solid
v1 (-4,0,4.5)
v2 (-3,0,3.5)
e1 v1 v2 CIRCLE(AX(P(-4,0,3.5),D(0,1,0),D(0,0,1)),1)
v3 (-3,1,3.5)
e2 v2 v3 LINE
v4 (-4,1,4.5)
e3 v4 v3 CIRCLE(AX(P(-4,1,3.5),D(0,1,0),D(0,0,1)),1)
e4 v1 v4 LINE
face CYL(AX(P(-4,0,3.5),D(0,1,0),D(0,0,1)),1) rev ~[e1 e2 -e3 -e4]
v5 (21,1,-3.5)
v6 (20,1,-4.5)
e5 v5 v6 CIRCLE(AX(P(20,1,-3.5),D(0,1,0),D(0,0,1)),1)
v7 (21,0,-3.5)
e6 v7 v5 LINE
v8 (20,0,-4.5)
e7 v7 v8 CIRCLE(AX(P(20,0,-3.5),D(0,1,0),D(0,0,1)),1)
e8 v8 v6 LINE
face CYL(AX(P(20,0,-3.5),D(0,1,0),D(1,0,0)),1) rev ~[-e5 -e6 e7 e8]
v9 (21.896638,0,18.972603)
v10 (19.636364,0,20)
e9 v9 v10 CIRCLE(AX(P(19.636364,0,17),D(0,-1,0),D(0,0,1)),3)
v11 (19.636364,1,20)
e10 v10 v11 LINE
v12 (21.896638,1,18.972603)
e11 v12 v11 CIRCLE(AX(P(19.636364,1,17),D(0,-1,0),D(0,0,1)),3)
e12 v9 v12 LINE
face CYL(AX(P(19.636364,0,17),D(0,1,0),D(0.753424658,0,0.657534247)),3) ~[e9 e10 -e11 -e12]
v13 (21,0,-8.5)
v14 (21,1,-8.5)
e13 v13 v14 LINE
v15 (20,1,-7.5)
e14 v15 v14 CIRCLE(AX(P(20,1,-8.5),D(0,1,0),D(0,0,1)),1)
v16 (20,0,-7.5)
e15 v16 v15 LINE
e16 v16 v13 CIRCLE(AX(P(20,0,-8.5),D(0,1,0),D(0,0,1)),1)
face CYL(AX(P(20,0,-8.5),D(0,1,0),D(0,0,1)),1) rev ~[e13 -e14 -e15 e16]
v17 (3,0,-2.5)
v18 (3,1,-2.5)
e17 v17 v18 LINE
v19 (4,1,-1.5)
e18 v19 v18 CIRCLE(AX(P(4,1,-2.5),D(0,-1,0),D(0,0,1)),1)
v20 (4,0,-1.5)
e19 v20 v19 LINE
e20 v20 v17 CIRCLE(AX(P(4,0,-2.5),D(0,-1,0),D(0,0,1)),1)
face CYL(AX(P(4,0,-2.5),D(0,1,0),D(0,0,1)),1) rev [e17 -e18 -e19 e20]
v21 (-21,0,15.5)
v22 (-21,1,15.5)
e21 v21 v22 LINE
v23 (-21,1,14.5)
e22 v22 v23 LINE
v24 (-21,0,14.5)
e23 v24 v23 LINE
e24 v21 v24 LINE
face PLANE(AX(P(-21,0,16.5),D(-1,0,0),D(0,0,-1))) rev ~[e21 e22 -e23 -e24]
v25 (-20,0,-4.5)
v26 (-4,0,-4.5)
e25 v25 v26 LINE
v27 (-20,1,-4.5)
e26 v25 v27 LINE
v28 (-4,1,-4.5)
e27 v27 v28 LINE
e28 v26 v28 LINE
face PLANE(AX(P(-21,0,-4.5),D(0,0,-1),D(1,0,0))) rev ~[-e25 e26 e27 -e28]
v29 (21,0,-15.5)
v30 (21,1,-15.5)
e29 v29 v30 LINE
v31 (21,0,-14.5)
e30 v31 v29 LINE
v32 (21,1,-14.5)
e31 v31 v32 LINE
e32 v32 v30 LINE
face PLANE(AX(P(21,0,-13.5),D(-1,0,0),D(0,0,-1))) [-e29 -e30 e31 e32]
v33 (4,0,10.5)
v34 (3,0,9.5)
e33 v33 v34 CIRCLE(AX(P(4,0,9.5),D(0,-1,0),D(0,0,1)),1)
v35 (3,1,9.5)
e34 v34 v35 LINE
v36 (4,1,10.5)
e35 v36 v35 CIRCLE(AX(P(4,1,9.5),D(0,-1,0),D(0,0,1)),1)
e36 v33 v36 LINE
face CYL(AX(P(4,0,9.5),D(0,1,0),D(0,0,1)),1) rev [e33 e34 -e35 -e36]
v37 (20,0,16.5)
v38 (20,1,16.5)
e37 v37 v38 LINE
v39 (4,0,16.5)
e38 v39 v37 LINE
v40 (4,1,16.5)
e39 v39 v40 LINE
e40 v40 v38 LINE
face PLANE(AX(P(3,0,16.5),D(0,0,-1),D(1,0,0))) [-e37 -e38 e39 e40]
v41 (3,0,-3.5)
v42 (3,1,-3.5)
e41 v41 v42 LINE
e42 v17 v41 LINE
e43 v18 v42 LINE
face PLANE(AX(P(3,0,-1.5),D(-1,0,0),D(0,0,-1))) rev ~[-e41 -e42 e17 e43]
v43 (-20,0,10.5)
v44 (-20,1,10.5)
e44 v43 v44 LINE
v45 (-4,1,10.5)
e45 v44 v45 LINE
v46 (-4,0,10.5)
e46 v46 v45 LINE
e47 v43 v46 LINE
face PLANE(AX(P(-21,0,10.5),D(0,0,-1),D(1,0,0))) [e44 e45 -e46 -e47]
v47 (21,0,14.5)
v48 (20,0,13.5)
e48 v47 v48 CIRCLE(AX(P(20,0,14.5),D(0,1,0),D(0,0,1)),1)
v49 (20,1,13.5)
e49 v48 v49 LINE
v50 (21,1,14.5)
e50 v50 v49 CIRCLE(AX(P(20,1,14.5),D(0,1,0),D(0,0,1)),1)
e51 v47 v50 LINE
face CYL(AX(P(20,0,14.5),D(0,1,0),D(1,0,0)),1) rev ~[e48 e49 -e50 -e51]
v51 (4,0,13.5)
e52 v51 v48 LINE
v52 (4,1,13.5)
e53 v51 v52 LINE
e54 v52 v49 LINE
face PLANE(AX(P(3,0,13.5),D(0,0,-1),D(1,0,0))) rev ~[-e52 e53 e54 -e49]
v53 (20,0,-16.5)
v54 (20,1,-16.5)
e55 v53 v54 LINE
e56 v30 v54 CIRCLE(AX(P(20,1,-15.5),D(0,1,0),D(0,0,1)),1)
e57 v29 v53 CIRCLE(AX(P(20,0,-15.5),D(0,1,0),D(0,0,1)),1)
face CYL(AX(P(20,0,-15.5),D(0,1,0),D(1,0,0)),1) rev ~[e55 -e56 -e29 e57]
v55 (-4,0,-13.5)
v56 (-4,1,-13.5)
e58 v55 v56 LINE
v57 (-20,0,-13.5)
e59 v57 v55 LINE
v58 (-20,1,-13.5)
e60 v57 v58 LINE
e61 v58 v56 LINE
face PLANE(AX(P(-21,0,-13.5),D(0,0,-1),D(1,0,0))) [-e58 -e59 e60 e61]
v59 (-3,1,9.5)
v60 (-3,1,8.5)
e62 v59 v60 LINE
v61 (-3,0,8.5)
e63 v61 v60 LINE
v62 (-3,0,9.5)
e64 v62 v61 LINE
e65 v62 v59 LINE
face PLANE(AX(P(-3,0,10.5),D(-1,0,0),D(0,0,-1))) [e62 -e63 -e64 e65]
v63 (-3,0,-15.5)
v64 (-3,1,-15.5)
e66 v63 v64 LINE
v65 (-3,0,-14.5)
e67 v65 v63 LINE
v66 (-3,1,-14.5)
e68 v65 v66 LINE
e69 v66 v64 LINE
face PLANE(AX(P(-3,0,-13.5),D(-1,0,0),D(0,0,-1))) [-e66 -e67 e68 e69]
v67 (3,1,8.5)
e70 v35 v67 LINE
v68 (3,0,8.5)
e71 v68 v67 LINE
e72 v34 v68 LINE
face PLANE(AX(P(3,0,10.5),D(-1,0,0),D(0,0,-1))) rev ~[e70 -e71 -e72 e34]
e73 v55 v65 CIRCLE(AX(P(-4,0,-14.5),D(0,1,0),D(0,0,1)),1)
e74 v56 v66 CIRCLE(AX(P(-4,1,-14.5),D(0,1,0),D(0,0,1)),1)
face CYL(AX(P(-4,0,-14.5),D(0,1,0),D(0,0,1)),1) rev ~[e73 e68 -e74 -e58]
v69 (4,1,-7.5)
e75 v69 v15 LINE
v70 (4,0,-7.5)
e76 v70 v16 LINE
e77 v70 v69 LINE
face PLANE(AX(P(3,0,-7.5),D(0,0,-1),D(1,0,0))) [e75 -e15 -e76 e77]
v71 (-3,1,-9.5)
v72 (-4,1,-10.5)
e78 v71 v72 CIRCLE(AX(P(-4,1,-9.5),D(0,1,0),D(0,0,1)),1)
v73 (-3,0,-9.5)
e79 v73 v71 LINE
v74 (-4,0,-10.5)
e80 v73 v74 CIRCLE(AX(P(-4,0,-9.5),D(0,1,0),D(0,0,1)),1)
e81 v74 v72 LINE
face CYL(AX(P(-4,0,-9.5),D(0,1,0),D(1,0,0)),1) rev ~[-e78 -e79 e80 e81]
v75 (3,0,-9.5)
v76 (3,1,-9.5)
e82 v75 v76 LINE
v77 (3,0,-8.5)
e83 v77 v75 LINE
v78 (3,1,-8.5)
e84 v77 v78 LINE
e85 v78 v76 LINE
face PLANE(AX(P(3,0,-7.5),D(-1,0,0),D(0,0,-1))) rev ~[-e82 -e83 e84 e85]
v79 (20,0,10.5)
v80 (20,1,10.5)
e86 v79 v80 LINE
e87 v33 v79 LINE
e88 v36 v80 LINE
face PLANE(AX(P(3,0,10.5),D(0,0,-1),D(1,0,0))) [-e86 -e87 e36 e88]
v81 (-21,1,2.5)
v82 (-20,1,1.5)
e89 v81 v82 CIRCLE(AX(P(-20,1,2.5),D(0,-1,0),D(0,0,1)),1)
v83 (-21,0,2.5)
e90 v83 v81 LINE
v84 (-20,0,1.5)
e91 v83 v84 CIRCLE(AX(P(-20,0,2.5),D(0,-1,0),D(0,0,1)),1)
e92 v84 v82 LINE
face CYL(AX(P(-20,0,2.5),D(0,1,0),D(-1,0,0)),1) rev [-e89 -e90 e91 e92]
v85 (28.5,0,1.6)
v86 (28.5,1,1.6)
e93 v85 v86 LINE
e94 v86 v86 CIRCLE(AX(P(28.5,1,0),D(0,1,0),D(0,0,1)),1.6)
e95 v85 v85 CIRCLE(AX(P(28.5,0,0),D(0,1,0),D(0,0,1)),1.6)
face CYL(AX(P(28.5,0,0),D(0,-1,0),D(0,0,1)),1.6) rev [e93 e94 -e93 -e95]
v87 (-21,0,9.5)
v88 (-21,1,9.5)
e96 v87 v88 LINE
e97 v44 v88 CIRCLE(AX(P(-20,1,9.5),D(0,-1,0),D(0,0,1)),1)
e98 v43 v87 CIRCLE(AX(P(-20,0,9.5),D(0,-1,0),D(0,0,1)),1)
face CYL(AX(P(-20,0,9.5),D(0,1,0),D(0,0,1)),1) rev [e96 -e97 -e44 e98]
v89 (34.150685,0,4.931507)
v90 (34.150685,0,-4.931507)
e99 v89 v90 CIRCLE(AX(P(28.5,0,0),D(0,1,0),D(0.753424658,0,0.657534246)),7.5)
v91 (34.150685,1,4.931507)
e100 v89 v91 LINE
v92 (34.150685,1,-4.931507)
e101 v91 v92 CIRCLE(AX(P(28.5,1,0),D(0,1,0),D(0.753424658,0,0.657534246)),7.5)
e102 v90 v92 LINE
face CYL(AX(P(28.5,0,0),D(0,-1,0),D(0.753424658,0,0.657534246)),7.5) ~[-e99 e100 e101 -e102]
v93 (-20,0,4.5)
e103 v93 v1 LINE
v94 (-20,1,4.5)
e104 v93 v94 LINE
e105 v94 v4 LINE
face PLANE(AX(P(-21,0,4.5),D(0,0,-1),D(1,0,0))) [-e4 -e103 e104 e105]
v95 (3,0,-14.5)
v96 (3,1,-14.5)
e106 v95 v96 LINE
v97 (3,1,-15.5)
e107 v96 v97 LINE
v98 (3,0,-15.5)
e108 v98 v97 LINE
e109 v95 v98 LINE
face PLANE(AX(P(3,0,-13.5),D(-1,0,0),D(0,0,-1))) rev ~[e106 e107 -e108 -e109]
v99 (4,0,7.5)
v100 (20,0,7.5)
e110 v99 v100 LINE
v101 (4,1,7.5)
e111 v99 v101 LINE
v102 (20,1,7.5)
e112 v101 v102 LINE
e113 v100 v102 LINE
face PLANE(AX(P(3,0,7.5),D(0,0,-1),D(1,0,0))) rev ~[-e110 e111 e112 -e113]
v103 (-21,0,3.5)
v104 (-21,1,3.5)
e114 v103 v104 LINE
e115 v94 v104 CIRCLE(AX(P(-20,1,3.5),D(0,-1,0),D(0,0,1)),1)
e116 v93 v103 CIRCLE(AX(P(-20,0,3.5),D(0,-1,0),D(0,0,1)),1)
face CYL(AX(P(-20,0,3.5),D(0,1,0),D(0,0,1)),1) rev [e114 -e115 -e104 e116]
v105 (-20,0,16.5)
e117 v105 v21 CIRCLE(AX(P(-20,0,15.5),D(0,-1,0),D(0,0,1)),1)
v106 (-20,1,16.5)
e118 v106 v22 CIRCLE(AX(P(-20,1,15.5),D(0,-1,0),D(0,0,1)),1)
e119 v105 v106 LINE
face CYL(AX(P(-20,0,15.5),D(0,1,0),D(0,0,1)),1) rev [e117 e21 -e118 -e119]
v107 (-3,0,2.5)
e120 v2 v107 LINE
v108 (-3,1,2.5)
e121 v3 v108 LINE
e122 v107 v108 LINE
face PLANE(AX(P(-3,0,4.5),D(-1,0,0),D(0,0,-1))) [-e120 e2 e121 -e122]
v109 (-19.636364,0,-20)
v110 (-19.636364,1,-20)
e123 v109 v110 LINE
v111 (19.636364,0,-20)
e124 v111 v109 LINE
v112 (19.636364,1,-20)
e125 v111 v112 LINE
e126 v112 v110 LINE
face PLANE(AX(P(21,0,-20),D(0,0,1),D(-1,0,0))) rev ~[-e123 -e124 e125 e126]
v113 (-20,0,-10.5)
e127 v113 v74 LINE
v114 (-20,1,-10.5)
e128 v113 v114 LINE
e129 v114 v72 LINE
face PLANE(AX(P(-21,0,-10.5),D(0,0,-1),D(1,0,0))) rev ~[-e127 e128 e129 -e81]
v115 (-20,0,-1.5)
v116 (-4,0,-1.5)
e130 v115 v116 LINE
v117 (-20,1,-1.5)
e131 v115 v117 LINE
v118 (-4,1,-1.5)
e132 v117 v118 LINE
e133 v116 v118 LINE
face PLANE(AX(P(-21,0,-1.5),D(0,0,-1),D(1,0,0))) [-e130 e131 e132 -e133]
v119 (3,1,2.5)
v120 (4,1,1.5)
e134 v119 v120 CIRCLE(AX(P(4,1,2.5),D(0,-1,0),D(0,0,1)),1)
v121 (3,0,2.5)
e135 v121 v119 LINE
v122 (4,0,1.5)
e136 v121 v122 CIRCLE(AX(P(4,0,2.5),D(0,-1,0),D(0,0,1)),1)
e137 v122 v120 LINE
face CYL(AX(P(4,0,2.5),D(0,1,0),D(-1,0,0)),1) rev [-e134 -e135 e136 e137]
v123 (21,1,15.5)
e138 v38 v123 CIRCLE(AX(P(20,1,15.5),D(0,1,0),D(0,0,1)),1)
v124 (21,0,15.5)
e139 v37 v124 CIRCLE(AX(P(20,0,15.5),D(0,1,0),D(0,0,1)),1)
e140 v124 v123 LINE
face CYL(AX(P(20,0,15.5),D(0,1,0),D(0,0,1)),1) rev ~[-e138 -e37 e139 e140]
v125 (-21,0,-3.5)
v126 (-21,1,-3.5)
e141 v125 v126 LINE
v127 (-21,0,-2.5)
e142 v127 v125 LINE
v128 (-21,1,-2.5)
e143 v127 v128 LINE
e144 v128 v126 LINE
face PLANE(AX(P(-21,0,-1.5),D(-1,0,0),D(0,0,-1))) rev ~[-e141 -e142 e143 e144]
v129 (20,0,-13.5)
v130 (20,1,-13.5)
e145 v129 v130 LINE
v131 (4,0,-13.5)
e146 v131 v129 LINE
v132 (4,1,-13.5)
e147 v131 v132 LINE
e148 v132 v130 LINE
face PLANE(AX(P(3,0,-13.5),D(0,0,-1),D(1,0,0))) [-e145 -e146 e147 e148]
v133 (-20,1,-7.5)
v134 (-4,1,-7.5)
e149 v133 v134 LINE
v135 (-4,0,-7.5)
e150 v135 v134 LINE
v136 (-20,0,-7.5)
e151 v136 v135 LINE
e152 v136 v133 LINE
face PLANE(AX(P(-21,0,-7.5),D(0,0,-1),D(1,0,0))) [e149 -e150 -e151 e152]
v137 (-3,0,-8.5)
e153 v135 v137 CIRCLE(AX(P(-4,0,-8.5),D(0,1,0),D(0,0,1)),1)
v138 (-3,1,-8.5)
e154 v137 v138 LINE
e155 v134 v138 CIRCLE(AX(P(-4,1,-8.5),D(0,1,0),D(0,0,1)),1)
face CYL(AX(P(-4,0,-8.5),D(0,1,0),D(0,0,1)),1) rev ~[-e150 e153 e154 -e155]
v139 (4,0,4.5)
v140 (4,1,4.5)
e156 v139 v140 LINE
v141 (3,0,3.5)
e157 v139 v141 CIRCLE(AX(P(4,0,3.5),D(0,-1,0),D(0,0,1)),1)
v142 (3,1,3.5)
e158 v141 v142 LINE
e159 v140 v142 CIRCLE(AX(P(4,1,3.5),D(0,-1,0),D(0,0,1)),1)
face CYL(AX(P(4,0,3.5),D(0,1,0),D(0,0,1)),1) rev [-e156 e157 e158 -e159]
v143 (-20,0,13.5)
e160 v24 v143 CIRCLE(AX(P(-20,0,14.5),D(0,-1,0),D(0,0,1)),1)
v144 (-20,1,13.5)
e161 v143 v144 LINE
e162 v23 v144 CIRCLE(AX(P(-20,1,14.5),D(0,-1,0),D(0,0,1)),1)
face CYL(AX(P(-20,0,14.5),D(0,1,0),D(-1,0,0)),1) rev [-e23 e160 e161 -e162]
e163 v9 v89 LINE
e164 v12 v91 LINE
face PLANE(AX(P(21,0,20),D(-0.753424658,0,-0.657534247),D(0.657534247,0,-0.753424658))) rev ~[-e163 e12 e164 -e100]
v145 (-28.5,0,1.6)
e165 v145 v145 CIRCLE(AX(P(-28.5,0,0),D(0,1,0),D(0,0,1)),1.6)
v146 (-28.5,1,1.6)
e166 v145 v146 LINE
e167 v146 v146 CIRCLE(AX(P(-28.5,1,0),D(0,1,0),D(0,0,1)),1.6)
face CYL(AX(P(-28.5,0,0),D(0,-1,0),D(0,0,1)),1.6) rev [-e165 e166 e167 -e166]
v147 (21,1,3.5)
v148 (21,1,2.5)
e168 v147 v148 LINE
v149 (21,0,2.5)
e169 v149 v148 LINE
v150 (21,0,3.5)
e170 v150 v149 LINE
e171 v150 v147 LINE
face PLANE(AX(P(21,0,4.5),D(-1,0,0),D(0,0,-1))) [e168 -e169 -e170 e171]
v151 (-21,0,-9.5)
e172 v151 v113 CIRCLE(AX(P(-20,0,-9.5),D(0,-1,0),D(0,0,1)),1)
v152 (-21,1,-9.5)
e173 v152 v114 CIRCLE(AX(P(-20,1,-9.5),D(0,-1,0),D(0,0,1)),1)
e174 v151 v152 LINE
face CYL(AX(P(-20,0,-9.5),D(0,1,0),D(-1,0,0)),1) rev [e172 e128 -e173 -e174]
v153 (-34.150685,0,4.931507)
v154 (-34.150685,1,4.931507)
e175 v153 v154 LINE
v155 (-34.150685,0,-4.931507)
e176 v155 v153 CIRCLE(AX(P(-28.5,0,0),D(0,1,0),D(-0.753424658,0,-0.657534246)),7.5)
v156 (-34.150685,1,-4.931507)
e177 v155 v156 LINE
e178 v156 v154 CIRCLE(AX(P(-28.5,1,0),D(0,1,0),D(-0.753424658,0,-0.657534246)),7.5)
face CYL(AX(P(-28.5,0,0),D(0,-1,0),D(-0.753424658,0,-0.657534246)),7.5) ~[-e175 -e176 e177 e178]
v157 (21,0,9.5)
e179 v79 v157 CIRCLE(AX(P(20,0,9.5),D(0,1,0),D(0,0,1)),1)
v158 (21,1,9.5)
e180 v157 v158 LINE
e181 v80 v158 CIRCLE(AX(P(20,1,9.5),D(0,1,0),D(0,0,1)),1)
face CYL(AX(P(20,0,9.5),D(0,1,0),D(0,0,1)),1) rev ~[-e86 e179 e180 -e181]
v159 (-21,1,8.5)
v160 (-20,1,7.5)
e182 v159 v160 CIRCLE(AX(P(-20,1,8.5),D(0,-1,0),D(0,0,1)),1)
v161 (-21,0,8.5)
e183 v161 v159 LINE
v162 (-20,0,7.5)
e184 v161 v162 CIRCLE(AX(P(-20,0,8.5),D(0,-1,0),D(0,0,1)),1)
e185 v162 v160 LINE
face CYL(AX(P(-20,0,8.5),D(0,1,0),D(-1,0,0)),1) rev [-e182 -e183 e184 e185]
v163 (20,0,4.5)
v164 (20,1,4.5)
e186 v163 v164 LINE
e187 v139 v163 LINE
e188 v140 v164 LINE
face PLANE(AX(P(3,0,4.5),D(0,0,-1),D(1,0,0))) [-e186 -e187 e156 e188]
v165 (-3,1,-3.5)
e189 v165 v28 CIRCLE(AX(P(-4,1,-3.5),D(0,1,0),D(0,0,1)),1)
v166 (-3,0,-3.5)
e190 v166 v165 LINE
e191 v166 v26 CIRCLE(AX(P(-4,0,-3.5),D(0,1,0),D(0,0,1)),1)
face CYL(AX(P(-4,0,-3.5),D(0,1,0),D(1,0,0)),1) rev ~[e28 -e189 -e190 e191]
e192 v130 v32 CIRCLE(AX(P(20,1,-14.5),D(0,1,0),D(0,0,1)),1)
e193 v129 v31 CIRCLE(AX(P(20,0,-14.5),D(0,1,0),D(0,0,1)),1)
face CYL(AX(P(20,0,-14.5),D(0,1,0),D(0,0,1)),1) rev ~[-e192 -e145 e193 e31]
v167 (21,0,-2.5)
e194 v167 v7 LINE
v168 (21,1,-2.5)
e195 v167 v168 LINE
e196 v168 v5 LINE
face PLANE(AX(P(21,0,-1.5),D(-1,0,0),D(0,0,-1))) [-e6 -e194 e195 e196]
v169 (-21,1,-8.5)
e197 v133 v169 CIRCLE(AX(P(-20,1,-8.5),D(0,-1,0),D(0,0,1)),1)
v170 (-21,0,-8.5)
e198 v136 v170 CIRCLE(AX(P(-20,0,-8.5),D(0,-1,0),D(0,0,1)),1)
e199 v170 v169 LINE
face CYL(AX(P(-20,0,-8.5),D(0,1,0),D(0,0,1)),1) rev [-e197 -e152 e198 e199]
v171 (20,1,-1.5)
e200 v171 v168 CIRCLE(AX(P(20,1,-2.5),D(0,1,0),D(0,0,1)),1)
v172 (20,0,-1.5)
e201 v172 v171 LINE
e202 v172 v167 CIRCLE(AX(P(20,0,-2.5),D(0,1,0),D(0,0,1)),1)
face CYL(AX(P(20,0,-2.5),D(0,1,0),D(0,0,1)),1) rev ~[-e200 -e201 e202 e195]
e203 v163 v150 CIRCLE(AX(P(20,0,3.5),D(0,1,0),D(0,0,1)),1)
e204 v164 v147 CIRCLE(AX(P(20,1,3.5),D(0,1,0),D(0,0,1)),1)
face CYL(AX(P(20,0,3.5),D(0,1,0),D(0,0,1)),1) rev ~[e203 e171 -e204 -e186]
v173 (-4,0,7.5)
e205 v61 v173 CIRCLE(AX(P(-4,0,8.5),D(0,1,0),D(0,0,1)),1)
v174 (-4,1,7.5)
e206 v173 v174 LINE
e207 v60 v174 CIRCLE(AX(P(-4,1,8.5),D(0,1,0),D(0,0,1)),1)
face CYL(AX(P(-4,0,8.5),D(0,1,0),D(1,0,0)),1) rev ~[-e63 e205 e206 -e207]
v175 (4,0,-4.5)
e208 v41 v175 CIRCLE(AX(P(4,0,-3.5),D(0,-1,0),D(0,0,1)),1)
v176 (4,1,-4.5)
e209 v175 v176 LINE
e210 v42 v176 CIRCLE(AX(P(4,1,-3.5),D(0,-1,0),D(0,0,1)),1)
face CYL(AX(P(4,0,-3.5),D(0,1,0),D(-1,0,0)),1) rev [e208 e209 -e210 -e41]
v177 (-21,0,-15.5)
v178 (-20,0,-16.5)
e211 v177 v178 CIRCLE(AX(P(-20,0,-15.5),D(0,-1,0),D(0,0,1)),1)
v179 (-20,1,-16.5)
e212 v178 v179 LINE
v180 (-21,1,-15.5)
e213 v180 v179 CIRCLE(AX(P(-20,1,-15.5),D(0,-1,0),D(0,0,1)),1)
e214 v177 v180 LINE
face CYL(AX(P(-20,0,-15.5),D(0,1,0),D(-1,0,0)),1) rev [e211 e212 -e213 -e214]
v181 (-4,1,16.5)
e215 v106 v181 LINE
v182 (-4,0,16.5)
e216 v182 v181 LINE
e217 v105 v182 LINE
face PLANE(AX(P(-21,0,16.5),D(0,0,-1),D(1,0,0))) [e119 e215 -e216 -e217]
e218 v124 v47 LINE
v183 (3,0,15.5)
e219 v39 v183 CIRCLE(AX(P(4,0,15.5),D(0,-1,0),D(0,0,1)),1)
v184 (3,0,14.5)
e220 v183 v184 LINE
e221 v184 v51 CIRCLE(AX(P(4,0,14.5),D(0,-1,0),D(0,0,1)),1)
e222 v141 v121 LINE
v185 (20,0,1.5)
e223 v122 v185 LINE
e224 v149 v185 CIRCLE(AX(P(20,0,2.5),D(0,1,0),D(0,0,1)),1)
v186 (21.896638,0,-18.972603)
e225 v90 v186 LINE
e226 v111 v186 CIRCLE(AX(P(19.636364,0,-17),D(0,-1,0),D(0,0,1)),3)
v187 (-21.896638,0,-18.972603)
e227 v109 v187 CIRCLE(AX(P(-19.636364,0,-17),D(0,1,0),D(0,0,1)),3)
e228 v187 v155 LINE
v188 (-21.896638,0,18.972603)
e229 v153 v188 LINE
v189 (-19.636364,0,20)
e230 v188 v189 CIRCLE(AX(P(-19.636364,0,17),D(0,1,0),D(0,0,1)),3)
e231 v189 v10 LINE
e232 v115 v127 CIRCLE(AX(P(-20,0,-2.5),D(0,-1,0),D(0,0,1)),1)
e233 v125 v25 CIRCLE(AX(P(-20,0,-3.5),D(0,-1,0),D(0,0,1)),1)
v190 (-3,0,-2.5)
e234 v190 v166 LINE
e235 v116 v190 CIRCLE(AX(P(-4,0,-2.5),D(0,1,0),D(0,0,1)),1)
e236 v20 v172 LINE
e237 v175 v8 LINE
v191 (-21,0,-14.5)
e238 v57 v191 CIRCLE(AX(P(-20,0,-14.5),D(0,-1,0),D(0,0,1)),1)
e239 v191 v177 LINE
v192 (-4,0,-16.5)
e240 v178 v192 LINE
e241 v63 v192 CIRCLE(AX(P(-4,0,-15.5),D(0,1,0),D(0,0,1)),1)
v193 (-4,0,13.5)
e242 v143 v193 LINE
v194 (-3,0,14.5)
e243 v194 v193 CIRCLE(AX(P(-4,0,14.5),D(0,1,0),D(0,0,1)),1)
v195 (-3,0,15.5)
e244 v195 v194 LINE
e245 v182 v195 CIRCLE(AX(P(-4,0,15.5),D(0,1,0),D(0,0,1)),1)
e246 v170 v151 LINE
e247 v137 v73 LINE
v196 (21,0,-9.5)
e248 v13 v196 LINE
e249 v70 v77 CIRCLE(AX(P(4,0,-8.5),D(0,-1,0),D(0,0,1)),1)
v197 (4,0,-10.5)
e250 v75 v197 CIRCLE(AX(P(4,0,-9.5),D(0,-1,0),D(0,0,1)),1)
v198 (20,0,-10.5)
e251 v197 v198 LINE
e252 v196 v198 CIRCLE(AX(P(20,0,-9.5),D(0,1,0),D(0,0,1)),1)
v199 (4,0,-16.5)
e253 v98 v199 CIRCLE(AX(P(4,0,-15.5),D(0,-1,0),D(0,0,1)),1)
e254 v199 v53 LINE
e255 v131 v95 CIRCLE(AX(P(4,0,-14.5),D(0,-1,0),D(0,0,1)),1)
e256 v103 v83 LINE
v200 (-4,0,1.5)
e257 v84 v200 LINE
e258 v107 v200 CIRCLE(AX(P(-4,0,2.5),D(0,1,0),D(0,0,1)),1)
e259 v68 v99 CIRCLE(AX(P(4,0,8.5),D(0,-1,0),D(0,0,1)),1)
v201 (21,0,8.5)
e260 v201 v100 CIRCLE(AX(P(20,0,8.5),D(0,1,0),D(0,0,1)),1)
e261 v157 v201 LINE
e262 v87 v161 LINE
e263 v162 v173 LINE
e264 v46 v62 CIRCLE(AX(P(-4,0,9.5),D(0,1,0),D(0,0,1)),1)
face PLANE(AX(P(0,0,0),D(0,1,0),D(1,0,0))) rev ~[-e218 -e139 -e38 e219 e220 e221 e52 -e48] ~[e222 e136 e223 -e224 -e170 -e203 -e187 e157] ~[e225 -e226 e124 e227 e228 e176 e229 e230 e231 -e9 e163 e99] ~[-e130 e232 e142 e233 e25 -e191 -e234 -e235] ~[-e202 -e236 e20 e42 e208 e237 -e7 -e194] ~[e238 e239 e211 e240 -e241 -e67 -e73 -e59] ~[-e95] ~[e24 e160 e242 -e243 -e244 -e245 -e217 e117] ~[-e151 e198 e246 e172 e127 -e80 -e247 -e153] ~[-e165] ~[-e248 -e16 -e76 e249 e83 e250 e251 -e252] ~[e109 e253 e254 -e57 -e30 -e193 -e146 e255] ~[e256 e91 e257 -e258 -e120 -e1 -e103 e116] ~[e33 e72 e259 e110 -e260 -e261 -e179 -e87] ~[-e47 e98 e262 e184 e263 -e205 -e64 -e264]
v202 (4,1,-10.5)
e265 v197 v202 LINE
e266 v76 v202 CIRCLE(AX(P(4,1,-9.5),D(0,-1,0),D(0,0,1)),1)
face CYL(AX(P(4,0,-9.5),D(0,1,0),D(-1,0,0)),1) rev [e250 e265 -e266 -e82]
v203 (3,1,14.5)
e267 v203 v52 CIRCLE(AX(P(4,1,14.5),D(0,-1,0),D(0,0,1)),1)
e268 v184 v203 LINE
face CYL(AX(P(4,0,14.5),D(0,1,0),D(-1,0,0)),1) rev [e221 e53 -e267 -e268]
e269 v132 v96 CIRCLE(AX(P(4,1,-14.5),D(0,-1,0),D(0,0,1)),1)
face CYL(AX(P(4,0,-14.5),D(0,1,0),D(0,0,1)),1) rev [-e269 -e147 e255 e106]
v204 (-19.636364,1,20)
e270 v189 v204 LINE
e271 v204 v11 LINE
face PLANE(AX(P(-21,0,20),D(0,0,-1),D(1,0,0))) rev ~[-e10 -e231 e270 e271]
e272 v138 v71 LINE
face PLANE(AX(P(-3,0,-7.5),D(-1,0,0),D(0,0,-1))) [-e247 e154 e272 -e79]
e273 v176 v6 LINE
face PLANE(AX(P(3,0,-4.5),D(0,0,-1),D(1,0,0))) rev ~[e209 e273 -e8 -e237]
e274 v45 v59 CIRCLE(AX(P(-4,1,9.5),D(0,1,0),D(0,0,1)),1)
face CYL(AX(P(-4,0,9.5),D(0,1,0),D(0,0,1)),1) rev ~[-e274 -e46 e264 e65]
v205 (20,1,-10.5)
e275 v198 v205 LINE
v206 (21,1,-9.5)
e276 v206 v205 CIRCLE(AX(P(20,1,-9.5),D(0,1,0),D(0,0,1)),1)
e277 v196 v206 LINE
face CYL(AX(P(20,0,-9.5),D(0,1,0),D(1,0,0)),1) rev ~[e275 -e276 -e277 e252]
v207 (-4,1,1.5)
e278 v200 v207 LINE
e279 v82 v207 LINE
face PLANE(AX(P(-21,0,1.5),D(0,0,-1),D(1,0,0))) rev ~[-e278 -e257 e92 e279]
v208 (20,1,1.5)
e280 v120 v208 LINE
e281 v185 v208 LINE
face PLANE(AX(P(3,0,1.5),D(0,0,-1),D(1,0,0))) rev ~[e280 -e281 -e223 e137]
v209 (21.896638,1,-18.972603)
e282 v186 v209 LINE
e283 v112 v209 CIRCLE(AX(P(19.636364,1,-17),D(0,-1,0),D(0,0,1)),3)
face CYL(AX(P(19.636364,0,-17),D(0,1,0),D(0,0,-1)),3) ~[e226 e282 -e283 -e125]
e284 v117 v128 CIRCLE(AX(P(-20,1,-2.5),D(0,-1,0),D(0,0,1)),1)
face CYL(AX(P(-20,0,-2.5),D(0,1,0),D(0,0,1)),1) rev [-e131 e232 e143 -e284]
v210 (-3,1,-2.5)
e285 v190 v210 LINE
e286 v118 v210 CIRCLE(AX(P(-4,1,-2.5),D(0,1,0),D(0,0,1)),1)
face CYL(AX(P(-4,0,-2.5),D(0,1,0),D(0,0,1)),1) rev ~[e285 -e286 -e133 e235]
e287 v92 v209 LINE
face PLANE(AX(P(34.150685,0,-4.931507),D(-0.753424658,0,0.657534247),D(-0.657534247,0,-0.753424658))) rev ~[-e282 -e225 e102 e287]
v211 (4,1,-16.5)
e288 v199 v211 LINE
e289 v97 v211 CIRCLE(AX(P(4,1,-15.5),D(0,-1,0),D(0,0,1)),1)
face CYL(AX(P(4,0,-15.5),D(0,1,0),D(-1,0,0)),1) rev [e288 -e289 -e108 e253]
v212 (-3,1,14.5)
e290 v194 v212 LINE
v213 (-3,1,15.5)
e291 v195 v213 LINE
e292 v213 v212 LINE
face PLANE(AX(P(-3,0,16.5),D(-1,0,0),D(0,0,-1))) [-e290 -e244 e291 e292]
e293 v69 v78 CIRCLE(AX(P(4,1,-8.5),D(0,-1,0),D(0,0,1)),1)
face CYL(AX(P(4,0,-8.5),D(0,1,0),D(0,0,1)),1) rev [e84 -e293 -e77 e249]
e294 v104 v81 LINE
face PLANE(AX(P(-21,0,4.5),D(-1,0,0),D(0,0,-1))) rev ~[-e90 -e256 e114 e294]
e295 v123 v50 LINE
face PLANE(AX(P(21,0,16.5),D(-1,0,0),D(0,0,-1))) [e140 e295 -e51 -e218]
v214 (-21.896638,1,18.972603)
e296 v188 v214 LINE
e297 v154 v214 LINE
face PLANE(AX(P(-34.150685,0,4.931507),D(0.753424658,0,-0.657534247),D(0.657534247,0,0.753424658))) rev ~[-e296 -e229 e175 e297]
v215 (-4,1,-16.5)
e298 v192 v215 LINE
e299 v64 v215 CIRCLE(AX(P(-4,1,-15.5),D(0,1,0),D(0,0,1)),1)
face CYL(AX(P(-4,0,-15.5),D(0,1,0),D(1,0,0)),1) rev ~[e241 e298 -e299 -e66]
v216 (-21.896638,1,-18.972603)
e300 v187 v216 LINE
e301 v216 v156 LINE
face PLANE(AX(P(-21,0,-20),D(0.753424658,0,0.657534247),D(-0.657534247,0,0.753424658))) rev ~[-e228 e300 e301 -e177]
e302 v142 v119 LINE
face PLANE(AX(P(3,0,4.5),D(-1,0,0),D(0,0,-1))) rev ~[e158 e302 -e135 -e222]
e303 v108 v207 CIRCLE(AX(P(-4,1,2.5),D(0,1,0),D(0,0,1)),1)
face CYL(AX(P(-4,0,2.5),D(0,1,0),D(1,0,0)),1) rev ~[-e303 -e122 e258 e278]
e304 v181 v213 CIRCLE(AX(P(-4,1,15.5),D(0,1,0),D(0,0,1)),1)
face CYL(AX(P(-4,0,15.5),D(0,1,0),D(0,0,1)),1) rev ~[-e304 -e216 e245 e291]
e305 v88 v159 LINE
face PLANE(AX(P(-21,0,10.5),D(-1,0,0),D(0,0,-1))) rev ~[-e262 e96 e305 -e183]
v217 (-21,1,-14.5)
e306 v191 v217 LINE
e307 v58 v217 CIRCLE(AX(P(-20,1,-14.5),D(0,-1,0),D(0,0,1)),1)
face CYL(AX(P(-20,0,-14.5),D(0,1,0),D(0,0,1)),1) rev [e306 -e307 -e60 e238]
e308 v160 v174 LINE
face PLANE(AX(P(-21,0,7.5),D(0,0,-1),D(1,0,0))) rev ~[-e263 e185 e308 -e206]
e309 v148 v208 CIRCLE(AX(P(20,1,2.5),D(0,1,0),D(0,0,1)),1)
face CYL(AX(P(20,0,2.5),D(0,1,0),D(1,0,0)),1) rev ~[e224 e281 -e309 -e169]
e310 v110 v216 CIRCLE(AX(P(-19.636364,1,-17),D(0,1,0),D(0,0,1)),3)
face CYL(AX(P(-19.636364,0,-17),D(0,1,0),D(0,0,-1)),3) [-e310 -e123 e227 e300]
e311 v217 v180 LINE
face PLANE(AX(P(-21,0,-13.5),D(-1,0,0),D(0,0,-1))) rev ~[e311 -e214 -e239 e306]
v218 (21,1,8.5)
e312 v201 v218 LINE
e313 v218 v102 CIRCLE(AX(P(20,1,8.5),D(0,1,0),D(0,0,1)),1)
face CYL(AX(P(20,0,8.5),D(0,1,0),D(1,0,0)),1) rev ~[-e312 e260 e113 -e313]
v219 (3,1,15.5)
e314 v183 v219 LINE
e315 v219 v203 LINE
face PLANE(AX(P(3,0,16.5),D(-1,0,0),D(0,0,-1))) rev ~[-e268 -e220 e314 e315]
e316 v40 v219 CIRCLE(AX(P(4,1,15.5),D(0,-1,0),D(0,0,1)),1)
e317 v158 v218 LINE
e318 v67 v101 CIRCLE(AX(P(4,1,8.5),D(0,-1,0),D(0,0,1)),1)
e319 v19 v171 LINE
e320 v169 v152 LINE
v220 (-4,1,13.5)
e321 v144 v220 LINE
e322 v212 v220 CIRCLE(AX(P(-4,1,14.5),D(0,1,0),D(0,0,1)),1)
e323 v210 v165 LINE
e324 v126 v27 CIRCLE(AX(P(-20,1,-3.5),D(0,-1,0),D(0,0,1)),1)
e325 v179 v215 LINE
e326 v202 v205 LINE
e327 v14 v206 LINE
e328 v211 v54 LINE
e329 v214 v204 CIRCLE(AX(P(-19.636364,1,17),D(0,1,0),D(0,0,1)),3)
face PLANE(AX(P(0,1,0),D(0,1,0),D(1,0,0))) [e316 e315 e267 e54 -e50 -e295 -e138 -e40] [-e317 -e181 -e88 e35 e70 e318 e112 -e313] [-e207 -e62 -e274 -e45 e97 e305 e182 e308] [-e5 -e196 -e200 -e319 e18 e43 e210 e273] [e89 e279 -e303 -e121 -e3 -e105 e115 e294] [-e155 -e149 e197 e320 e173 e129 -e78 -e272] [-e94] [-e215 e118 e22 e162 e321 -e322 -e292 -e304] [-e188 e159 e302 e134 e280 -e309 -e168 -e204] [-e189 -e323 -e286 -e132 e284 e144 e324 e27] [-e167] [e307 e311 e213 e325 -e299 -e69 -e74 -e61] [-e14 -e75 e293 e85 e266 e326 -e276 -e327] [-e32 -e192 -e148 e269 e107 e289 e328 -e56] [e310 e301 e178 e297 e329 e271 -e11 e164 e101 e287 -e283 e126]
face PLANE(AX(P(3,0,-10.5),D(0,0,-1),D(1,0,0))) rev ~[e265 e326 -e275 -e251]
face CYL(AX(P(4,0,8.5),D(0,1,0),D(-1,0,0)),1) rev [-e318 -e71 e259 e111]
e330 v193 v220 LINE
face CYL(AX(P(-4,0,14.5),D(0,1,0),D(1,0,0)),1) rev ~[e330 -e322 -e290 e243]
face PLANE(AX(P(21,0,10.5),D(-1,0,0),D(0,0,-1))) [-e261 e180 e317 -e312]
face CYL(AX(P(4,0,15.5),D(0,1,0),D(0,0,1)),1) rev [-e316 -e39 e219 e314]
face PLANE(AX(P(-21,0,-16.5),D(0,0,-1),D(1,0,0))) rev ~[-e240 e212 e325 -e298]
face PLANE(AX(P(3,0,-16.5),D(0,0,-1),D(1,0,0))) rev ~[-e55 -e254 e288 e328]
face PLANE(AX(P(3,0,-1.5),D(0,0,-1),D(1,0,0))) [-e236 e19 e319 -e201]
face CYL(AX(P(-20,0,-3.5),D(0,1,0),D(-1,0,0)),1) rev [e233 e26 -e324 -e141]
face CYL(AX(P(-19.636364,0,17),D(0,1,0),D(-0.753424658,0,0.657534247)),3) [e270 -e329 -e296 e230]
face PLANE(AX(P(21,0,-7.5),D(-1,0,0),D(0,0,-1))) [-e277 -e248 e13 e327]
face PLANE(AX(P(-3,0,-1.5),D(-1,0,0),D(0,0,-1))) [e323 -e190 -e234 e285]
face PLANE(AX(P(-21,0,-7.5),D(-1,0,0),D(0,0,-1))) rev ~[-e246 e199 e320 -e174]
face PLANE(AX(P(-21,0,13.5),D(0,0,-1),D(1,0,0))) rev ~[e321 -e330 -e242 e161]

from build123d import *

# Parameters (mm, degrees)
SKETCH_1_W      = 18
SKETCH_1_H      = 3
SKETCH_1_R      = 1.6
EXTRUDE_1_DEPTH = 1
FILLET_1_R      = 3
FILLET_2_R      = 1


with BuildPart() as part:
    # 草图1 → 凸台-拉伸1 (new body)
    with BuildSketch(Plane(origin=(0, 0, 0), x_dir=(1, 0, 0), z_dir=(0, 1, 0))):
        with BuildLine():
            Line((21, 20), (-21, 20))
            Line((-21, 20), (-34.150684932, 4.931506849))
            ThreePointArc((-34.150684932, 4.931506849), (-36, 0), (-34.150684932, -4.931506849))
            Line((-34.150684932, -4.931506849), (-21, -20))
            Line((-21, -20), (21, -20))
            Line((21, -20), (34.150684932, -4.931506849))
            ThreePointArc((34.150684932, -4.931506849), (36, 0), (34.150684932, 4.931506849))
            Line((34.150684932, 4.931506849), (21, 20))
        make_face()
        with Locations((-12, -15)):
            Rectangle(SKETCH_1_W, SKETCH_1_H, mode=Mode.SUBTRACT)
        with Locations((-12, -9)):
            Rectangle(SKETCH_1_W, SKETCH_1_H, mode=Mode.SUBTRACT)
        with Locations((-12, -3)):
            Rectangle(SKETCH_1_W, SKETCH_1_H, mode=Mode.SUBTRACT)
        with Locations((12, -15)):
            Rectangle(SKETCH_1_W, SKETCH_1_H, mode=Mode.SUBTRACT)
        with Locations((12, -9)):
            Rectangle(SKETCH_1_W, SKETCH_1_H, mode=Mode.SUBTRACT)
        with Locations((12, -3)):
            Rectangle(SKETCH_1_W, SKETCH_1_H, mode=Mode.SUBTRACT)
        with Locations((-12, 3)):
            Rectangle(SKETCH_1_W, SKETCH_1_H, mode=Mode.SUBTRACT)
        with Locations((-12, 9)):
            Rectangle(SKETCH_1_W, SKETCH_1_H, mode=Mode.SUBTRACT)
        with Locations((-12, 15)):
            Rectangle(SKETCH_1_W, SKETCH_1_H, mode=Mode.SUBTRACT)
        with Locations((12, 3)):
            Rectangle(SKETCH_1_W, SKETCH_1_H, mode=Mode.SUBTRACT)
        with Locations((12, 9)):
            Rectangle(SKETCH_1_W, SKETCH_1_H, mode=Mode.SUBTRACT)
        with Locations((12, 15)):
            Rectangle(SKETCH_1_W, SKETCH_1_H, mode=Mode.SUBTRACT)
        with Locations(Location((-28.5, 0, 0), (0, 0, 270))):
            Circle(SKETCH_1_R, mode=Mode.SUBTRACT)
        with Locations(Location((28.5, 0, 0), (0, 0, 270))):
            Circle(SKETCH_1_R, mode=Mode.SUBTRACT)
    extrude(amount=EXTRUDE_1_DEPTH)

    # 圆角1
    fillet_1_edges = [part.edges().sort_by_distance(p)[0] for p in [
        (21, 0.5, 20),
        (-21, 0.5, 20),
        (-21, 0.5, -20),
        (21, 0.5, -20),
    ]]
    fillet(fillet_1_edges, radius=FILLET_1_R)

    # 圆角2
    fillet_2_edges = [part.edges().sort_by_distance(p)[0] for p in [
        (-21, 0.5, 13.5),
        (-21, 0.5, 16.5),
        (-3, 0.5, 16.5),
        (-3, 0.5, 13.5),
        (21, 0.5, 16.5),
        (21, 0.5, 13.5),
        (3, 0.5, 13.5),
        (3, 0.5, 16.5),
        (21, 0.5, 10.5),
        (21, 0.5, 7.5),
        (3, 0.5, 7.5),
        (3, 0.5, 10.5),
        (21, 0.5, 4.5),
        (21, 0.5, 1.5),
        (3, 0.5, 1.5),
        (3, 0.5, 4.5),
        (21, 0.5, -1.5),
        (21, 0.5, -4.5),
        (3, 0.5, -4.5),
        (3, 0.5, -1.5),
        (21, 0.5, -7.5),
        (21, 0.5, -10.5),
        (3, 0.5, -10.5),
        (3, 0.5, -7.5),
        (21, 0.5, -13.5),
        (21, 0.5, -16.5),
        (3, 0.5, -16.5),
        (3, 0.5, -13.5),
        (-3, 0.5, 10.5),
        (-3, 0.5, 7.5),
        (-21, 0.5, 7.5),
        (-21, 0.5, 10.5),
        (-3, 0.5, 4.5),
        (-3, 0.5, 1.5),
        (-21, 0.5, 1.5),
        (-21, 0.5, 4.5),
        (-3, 0.5, -1.5),
        (-3, 0.5, -4.5),
        (-21, 0.5, -4.5),
        (-21, 0.5, -1.5),
        (-3, 0.5, -7.5),
        (-3, 0.5, -10.5),
        (-21, 0.5, -10.5),
        (-21, 0.5, -7.5),
        (-3, 0.5, -13.5),
        (-3, 0.5, -16.5),
        (-21, 0.5, -16.5),
        (-21, 0.5, -13.5),
    ]]
    fillet(fillet_2_edges, radius=FILLET_2_R)


solid = part.part
